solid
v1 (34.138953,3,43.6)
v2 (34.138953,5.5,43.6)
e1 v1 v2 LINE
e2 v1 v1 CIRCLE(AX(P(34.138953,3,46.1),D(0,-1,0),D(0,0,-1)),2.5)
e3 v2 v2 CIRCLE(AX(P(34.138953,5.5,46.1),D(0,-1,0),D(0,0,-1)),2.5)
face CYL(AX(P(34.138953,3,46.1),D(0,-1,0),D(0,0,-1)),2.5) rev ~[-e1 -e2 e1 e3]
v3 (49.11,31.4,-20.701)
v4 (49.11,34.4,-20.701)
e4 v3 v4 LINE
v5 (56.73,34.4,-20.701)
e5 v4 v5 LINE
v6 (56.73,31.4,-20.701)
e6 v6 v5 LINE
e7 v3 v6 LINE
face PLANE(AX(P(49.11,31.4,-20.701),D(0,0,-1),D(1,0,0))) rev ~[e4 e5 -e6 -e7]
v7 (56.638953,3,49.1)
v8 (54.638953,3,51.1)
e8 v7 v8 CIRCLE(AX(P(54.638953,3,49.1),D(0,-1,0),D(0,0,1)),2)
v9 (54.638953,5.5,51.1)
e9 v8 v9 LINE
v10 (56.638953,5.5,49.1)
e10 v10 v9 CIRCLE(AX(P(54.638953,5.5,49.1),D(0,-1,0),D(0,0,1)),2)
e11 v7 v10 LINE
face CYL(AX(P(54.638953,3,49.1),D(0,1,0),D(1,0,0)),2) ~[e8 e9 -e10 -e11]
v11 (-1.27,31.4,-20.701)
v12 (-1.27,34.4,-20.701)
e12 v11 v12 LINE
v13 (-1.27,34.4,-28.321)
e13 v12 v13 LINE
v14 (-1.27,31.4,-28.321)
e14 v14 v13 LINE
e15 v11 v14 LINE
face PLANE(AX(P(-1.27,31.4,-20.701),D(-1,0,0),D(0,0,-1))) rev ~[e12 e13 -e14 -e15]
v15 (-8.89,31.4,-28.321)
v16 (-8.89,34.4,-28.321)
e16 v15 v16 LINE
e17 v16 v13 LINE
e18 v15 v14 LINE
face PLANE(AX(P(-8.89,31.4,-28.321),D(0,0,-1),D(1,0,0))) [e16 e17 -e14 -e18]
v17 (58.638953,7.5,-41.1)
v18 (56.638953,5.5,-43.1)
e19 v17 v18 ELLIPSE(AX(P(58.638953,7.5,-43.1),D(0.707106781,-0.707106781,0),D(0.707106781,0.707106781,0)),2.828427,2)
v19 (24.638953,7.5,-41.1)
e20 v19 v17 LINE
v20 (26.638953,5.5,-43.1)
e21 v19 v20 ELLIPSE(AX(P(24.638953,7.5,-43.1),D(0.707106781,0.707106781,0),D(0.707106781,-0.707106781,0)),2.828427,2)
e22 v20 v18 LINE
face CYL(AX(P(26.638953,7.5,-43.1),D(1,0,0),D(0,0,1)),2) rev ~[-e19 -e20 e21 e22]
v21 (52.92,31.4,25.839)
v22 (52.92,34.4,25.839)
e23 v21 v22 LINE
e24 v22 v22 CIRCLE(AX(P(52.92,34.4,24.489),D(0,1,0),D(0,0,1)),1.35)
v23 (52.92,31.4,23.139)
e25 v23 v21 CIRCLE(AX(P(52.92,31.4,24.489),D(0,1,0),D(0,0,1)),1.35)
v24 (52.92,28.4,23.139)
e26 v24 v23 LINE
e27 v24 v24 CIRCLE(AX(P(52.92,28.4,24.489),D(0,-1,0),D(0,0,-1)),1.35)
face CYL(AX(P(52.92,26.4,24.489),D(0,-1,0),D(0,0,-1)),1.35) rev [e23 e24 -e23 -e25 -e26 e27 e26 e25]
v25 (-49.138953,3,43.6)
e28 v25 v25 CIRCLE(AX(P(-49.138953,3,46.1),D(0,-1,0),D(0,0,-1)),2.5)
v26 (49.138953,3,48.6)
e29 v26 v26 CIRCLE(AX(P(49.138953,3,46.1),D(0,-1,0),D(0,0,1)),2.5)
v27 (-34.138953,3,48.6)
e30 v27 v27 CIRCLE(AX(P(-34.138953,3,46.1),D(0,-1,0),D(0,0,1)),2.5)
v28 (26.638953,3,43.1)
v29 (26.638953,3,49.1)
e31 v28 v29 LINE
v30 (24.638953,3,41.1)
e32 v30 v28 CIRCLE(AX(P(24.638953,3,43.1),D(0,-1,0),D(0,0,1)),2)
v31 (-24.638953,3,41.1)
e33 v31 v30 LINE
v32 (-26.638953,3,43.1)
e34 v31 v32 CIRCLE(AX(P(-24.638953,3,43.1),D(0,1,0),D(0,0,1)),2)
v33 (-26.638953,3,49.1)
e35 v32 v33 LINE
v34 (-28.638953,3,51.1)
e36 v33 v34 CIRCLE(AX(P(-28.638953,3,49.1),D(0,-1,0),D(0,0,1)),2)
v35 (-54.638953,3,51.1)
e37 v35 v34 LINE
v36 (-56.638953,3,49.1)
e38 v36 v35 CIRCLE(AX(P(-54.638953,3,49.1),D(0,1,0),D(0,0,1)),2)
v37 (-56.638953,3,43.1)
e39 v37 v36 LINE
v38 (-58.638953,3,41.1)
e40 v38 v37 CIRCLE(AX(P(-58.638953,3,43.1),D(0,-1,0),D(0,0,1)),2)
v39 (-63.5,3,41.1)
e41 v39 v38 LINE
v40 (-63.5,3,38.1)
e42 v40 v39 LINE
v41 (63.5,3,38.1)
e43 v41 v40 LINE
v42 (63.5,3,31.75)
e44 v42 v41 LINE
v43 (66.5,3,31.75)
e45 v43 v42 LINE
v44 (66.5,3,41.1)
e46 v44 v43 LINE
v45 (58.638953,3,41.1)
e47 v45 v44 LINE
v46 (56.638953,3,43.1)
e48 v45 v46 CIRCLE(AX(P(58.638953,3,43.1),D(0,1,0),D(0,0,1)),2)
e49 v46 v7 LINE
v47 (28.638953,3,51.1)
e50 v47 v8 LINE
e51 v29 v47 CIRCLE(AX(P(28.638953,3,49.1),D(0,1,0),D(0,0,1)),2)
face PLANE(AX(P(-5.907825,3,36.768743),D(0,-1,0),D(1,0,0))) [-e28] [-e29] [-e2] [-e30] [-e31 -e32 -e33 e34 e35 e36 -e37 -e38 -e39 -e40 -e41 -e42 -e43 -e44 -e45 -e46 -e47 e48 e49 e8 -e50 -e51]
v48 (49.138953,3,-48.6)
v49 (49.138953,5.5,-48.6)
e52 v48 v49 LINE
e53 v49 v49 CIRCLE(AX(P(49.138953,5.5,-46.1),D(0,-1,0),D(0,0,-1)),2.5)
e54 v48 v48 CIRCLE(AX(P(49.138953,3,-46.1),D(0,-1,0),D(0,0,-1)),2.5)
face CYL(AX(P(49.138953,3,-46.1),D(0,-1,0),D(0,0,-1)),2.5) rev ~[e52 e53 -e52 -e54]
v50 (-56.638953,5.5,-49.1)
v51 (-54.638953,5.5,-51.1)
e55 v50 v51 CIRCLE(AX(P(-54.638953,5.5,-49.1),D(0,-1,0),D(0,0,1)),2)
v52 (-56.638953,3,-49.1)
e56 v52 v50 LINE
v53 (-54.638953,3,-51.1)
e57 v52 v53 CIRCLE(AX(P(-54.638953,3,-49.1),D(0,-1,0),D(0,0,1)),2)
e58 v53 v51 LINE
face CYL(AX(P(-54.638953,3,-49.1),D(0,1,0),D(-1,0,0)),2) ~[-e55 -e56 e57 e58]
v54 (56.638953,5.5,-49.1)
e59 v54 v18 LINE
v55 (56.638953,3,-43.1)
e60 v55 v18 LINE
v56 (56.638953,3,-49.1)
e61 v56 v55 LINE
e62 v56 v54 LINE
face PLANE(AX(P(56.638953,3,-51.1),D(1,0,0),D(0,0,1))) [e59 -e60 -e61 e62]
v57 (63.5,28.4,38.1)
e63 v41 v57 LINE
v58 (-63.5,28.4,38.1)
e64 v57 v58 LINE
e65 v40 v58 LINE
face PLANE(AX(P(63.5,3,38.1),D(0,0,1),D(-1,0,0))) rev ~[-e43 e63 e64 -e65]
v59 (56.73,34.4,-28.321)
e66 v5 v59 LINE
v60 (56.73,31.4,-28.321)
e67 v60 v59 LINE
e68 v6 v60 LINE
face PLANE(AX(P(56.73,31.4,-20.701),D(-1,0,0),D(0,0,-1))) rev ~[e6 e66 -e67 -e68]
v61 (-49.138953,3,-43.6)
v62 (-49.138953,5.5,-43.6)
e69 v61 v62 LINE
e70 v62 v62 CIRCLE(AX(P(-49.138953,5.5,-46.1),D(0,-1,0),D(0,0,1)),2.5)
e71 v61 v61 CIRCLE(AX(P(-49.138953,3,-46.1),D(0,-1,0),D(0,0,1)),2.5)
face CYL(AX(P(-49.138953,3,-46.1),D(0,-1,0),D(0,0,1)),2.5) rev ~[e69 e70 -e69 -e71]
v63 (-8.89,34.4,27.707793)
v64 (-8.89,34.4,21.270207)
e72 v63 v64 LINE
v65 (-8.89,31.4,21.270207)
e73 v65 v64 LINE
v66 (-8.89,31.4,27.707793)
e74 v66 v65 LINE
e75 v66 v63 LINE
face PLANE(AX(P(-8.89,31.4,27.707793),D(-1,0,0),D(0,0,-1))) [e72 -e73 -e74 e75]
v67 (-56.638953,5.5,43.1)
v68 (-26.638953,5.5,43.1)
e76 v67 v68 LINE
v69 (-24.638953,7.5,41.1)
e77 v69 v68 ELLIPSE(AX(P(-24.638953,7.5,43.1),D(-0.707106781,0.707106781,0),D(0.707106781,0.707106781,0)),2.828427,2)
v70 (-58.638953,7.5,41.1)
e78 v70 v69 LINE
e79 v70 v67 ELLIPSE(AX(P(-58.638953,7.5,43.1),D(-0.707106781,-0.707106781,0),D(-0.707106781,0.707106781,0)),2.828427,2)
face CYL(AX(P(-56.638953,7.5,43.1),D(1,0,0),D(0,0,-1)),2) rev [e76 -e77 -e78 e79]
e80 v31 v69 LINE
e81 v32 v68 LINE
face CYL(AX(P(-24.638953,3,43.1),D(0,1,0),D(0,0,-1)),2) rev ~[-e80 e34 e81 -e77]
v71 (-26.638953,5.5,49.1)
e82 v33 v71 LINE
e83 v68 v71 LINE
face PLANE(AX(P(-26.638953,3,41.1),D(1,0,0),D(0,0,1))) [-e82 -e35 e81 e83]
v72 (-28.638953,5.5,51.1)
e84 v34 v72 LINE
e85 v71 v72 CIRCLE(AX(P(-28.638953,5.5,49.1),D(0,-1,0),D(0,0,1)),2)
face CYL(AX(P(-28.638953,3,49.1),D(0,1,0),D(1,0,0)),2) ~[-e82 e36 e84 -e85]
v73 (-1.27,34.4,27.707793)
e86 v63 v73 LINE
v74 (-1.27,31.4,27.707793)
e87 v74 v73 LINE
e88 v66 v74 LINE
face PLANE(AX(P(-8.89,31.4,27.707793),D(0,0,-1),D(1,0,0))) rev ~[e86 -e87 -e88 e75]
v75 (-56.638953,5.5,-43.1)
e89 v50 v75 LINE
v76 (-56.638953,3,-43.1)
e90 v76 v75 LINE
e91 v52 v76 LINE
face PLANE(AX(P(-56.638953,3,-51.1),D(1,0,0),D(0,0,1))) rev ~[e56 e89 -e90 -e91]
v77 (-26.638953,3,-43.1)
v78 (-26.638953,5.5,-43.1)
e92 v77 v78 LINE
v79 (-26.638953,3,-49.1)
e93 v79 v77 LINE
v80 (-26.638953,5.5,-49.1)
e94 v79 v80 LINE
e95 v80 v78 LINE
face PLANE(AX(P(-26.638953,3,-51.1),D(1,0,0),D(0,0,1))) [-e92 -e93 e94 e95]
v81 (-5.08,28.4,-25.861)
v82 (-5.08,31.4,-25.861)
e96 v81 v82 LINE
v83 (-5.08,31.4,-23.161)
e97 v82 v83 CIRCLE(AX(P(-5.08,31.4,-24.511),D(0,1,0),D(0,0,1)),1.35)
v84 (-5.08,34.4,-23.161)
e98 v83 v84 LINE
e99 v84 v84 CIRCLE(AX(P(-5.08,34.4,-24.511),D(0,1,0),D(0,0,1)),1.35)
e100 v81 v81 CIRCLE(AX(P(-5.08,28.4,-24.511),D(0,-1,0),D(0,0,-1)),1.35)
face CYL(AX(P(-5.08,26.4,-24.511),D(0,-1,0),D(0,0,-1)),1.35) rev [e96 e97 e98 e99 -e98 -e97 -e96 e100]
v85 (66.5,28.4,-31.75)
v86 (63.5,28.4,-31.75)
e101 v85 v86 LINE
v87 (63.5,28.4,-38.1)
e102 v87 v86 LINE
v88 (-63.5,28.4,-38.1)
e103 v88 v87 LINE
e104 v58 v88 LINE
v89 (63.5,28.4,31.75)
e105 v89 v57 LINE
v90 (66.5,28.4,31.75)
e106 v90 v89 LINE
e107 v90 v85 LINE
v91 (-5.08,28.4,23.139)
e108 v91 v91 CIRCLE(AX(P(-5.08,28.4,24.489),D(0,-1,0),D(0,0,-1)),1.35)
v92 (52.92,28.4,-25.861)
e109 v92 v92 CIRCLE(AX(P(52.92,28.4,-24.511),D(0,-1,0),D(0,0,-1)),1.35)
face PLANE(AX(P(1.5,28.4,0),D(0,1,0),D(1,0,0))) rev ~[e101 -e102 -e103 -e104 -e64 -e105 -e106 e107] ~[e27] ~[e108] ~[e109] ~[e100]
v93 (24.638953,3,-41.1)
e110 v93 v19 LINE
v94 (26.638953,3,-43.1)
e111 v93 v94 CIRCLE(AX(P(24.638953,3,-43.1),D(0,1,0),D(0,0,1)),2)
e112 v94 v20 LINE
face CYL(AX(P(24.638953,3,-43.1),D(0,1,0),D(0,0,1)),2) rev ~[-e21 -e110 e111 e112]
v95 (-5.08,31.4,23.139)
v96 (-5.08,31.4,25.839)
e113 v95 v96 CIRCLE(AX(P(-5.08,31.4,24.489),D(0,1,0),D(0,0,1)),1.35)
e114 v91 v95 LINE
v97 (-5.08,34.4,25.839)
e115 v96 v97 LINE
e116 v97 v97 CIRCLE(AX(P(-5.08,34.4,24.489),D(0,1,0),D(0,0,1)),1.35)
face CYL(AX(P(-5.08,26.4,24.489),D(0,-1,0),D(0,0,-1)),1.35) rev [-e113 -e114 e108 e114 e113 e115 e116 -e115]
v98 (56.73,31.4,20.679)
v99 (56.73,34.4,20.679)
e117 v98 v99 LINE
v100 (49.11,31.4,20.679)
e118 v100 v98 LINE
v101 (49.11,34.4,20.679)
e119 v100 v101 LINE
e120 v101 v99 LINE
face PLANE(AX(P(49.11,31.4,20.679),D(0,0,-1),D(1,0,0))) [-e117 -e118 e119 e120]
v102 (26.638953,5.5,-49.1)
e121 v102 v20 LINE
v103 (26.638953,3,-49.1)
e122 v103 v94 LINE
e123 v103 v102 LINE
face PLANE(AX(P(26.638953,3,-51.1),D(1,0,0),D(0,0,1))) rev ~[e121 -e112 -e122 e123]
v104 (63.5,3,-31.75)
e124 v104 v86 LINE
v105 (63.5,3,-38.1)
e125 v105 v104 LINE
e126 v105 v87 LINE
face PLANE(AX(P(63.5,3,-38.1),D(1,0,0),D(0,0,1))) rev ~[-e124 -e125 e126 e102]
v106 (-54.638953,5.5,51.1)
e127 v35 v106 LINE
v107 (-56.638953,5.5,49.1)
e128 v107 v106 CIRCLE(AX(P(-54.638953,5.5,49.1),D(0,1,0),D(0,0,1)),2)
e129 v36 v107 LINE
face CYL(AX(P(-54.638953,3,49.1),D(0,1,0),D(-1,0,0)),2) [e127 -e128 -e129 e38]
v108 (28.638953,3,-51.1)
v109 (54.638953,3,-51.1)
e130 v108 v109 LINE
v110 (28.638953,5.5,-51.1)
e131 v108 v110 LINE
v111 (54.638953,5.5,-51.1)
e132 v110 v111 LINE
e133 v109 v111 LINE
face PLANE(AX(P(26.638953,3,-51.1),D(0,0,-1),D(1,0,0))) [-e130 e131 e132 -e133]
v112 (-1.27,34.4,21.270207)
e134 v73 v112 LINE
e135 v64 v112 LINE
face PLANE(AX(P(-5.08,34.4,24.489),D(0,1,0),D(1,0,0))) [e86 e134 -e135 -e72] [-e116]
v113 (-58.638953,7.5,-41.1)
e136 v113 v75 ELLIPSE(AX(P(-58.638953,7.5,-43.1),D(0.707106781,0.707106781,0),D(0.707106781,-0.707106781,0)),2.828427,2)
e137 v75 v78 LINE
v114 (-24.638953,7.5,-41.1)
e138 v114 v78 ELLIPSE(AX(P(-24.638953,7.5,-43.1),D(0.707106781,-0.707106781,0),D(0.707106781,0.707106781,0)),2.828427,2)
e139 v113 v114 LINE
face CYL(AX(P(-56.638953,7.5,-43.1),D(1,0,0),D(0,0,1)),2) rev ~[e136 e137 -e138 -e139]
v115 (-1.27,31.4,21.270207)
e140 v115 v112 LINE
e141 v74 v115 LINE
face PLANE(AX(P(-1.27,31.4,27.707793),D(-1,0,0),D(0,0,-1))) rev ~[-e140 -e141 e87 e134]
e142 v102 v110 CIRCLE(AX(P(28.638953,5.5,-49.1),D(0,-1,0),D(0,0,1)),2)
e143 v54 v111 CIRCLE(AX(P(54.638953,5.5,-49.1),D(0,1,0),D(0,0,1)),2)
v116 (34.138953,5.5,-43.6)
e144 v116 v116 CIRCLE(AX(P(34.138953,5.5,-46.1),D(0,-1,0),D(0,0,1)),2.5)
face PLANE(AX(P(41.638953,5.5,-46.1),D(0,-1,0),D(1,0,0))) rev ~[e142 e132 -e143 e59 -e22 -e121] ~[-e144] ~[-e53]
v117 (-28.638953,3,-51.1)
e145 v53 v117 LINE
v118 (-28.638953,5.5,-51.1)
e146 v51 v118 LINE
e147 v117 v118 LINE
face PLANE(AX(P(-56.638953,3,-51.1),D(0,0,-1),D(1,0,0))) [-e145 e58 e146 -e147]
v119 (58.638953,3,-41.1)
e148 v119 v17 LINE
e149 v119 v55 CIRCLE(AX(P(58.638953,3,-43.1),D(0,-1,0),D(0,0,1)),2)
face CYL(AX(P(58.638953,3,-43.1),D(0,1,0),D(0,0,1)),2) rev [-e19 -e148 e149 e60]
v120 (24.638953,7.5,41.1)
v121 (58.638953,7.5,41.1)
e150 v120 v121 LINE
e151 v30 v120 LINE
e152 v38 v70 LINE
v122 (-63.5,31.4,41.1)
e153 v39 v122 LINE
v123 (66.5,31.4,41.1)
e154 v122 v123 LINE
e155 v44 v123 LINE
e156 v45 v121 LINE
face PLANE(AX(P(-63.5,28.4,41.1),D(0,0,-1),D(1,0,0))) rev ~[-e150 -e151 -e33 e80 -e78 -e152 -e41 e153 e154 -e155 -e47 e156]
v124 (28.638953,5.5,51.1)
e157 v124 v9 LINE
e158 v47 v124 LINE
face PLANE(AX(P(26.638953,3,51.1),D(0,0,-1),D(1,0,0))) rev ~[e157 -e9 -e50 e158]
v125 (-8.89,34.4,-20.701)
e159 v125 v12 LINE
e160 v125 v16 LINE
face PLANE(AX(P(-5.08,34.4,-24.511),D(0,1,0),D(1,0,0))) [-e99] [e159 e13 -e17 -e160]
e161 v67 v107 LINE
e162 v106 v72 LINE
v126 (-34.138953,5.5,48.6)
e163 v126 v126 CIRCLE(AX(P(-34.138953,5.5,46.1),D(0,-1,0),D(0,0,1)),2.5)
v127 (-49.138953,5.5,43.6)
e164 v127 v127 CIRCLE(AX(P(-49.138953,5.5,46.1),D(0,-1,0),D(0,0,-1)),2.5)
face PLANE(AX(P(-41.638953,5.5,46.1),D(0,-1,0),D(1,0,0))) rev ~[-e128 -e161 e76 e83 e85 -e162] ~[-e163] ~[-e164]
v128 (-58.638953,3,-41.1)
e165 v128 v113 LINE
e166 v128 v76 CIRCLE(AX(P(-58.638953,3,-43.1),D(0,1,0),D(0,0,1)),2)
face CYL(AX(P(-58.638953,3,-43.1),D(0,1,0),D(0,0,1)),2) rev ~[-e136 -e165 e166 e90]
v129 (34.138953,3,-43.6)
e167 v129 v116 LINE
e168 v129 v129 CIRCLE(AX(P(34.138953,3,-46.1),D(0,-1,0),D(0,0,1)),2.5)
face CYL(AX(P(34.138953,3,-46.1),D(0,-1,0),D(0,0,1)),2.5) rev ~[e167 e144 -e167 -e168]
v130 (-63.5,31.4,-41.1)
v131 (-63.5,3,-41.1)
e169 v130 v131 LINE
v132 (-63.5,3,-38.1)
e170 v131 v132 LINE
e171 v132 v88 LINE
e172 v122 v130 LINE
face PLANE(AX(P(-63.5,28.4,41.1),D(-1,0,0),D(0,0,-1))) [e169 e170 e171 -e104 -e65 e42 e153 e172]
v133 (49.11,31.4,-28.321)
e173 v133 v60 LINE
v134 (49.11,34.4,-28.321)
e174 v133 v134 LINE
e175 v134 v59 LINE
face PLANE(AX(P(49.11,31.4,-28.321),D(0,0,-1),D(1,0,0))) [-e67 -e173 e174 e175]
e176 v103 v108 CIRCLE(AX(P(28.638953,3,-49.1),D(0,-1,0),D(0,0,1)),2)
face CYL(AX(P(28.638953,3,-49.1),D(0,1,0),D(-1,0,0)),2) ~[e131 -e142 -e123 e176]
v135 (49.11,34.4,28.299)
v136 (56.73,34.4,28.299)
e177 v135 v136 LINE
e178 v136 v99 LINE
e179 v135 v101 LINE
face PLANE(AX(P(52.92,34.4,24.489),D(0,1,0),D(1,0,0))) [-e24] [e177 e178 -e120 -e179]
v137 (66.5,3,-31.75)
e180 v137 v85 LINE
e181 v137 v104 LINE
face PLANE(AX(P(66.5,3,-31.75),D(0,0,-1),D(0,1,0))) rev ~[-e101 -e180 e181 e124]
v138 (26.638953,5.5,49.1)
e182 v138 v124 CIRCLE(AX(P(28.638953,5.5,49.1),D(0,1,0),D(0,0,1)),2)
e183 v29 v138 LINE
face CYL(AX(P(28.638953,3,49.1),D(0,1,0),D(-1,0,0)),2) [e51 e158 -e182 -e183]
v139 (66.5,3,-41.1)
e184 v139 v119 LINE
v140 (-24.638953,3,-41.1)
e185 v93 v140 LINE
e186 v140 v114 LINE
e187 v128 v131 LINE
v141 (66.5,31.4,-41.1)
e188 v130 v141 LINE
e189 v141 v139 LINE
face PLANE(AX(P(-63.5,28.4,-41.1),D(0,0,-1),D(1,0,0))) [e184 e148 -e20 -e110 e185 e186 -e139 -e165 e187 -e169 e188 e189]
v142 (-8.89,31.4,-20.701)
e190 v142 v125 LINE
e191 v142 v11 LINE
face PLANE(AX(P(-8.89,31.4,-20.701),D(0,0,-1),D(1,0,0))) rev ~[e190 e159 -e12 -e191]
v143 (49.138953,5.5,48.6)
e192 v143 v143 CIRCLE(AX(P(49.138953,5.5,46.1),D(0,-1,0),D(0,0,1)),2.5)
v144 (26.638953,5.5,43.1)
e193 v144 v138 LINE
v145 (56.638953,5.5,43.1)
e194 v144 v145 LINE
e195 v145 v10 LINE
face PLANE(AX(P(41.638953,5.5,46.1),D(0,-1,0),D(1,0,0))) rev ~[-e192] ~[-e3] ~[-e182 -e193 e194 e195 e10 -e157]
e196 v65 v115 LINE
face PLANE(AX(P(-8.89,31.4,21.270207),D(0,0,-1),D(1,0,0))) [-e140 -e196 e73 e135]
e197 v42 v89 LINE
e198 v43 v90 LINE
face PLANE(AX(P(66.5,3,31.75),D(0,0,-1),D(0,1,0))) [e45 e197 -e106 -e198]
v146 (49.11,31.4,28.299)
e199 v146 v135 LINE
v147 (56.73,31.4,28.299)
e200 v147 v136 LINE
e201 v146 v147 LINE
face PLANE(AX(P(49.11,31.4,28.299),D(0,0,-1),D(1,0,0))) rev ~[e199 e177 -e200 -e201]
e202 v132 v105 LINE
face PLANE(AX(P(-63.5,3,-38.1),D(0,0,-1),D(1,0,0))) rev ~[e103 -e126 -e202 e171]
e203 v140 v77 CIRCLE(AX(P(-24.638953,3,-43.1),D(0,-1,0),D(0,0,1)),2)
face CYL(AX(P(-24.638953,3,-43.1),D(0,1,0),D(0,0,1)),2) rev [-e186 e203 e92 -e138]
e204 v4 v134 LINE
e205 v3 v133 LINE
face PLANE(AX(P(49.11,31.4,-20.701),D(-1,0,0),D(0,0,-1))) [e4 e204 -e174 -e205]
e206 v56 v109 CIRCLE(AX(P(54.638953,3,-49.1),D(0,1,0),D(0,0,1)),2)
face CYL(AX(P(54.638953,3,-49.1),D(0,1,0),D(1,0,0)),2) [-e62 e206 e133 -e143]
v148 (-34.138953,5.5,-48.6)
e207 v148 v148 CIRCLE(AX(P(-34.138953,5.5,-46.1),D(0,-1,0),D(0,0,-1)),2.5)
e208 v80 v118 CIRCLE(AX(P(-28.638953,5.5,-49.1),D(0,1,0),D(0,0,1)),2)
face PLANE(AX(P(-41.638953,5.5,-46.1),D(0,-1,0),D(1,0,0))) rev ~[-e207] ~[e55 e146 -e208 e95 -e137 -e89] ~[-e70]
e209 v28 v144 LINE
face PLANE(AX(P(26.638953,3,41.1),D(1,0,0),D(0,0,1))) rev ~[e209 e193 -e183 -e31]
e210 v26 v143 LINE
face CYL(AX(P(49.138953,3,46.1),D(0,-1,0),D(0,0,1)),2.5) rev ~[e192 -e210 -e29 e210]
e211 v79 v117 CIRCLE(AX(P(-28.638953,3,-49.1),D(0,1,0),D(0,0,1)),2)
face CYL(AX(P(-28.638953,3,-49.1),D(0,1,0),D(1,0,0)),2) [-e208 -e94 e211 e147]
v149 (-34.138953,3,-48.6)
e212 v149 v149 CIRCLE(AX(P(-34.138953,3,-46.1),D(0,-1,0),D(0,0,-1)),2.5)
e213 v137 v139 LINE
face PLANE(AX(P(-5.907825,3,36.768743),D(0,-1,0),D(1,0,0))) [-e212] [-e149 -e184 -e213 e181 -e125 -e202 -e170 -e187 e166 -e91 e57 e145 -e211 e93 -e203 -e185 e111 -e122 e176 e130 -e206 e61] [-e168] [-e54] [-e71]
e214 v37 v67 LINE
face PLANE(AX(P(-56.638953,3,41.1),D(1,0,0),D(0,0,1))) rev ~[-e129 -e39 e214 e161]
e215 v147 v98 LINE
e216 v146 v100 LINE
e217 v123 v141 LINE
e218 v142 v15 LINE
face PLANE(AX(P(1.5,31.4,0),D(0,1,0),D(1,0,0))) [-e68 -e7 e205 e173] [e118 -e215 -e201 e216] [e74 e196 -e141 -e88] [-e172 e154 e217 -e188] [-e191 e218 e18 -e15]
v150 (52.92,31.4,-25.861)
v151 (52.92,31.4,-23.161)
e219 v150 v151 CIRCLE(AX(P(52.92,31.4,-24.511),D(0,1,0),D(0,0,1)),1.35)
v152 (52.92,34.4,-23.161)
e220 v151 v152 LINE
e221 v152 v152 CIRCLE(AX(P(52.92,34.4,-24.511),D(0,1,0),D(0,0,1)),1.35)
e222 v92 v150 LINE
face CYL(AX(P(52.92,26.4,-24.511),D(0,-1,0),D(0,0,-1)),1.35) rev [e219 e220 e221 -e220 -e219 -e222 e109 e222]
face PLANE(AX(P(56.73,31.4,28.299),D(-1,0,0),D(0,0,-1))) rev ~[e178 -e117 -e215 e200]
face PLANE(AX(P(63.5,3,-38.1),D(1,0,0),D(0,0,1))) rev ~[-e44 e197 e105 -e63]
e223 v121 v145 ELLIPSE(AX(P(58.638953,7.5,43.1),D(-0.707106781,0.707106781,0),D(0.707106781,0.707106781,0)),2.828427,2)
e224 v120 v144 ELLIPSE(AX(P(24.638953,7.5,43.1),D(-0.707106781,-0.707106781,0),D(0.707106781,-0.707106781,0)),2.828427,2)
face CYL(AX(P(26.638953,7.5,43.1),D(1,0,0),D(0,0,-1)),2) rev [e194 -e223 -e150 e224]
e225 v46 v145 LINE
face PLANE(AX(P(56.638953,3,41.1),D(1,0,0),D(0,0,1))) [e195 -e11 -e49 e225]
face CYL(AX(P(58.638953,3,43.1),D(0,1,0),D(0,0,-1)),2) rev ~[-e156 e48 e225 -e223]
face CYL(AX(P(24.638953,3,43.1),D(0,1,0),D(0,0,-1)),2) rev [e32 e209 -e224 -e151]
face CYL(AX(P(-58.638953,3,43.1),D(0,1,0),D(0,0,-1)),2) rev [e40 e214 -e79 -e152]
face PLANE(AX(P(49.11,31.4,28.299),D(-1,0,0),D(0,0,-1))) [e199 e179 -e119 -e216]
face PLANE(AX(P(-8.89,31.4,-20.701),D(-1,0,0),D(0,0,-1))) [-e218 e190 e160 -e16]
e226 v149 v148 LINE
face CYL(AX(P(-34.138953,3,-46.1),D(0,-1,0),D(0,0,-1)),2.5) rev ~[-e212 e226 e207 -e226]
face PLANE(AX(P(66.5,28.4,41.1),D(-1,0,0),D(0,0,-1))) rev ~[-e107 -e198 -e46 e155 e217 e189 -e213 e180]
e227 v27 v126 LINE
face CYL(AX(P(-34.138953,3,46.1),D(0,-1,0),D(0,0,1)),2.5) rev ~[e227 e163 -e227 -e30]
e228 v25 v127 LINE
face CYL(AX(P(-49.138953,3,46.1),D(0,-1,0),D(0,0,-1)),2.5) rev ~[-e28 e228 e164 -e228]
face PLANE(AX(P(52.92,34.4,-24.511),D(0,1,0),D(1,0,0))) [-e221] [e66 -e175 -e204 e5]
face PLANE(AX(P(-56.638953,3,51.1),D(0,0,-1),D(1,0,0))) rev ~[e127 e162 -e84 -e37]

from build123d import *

# Parameters (mm, degrees)
SKETCH1_R                        = 2.54
SKETCH1_R_2                      = 6.35
MAINBASEPLATE_DEPTH              = 3
PIBATTERYBOXBOSS_EXTRUDE3_DEPTH  = 25.4
SKETCH7_W                        = 130
SKETCH7_H                        = 82.2
PIBATTERYTOPBOSS_EXTRUDE4_DEPTH  = 3
SKETCH8_W                        = 63.5
SKETCH8_H                        = 25.4
PIBATTERYWIRESCUT_EXTRUDE2_DEPTH = 13.16
SKETCH9_W                        = 7.62
SKETCH9_H                        = 7.62
SKETCH9_R                        = 1.35
SKETCH9_H_2                      = 6.437586206
PIBOARDBOSS_EXTRUDE5_DEPTH       = 3
SKETCH32_W                       = 712.395528774
SKETCH32_H                       = 524.196017535
CUT_EXTRUDE11_DEPTH              = 3
SKETCH33_W                       = 30
SKETCH33_H                       = 10
SKETCH33_R                       = 2.5
BOSS_EXTRUDE9_DEPTH              = 2.5
FILLET2_R                        = 2
CUT_EXTRUDE12_START              = -5
SKETCH9_2_R                      = 1.35
CUT_EXTRUDE12_DEPTH              = 5


with BuildPart() as part:
    # Sketch1 → mainbaseplate (new body)
    with BuildSketch(Plane(origin=(0, 0, 0), x_dir=(1, 0, 0), z_dir=(0, 1, 0))):
        with BuildLine():
            Line((-223.52, -111.125), (223.52, -111.125))
            ThreePointArc((223.52, -111.125), (227.112102448, -109.637102448), (228.6, -106.045))
            Line((228.6, -106.045), (228.6, 106.045))
            ThreePointArc((228.6, 106.045), (227.112102448, 109.637102448), (223.52, 111.125))
            Line((223.52, 111.125), (-223.52, 111.125))
            ThreePointArc((-223.52, 111.125), (-227.112102448, 109.637102448), (-228.6, 106.045))
            Line((-228.6, 106.045), (-228.6, -106.045))
            ThreePointArc((-228.6, -106.045), (-227.112102448, -109.637102448), (-223.52, -111.125))
        make_face()
        with Locations(Location((127, 36.5125, 0), (0, 0, 270))):
            Circle(SKETCH1_R, mode=Mode.SUBTRACT)
        with Locations(Location((127, -36.5125, 0), (0, 0, 270))):
            Circle(SKETCH1_R, mode=Mode.SUBTRACT)
        with Locations(Location((-142.24, 36.5125, 0), (0, 0, 270))):
            Circle(SKETCH1_R, mode=Mode.SUBTRACT)
        with Locations(Location((-142.24, -36.5125, 0), (0, 0, 270))):
            Circle(SKETCH1_R, mode=Mode.SUBTRACT)
        with Locations(Location((209.55, 0, 0), (0, 0, 270))):
            Circle(SKETCH1_R_2, mode=Mode.SUBTRACT)
    extrude(amount=MAINBASEPLATE_DEPTH)

    # Sketch6 → PiBatteryBoxBoss-Extrude3 (add)
    with BuildSketch(Plane(origin=(0, 3, 0), x_dir=(1, 0, 0), z_dir=(0, 1, 0))):
        Polygon((-63.5, -41.1), (66.5, -41.1), (66.5, 41.1), (-63.5, 41.1), (-63.5, 38.1), (63.5, 38.1), (63.5, -38.1), (-63.5, -38.1), align=None)
    extrude(amount=PIBATTERYBOXBOSS_EXTRUDE3_DEPTH)

    # Sketch7 → PibatterytopBoss-Extrude4 (add)
    with BuildSketch(Plane(origin=(0, 28.4, 0), x_dir=(1, 0, 0), z_dir=(0, 1, 0))):
        with Locations((1.5, 0)):
            Rectangle(SKETCH7_W, SKETCH7_H)
    extrude(amount=PIBATTERYTOPBOSS_EXTRUDE4_DEPTH)

    # Sketch8 → pibatterywiresCut-Extrude2 (cut)
    with BuildSketch(Plane(origin=(66.5, 0, 0), x_dir=(0, 0, -1), z_dir=(1, 0, 0))):
        with Locations((0, 15.7)):
            Rectangle(SKETCH8_W, SKETCH8_H)
    extrude(amount=-PIBATTERYWIRESCUT_EXTRUDE2_DEPTH, mode=Mode.SUBTRACT)

    # Sketch9 → PiBoardBoss-Extrude5 (add)
    # profile 1 of 4: a face of its own
    with BuildSketch(Plane(origin=(0, 31.4, 0), x_dir=(1, 0, 0), z_dir=(0, 1, 0))):
        with Locations((52.92, 24.511)):
            Rectangle(SKETCH9_W, SKETCH9_H)
        with Locations(Location((52.92, 24.511, 0), (0, 0, 270))):
            Circle(SKETCH9_R, mode=Mode.SUBTRACT)
    # profile 2 of 4: a face of its own
    with BuildSketch(Plane(origin=(0, 31.4, 0), x_dir=(1, 0, 0), z_dir=(0, 1, 0))):
        with Locations((52.92, -24.489)):
            Rectangle(SKETCH9_W, SKETCH9_H)
        with Locations(Location((52.92, -24.489, 0), (0, 0, 270))):
            Circle(SKETCH9_R, mode=Mode.SUBTRACT)
    # profile 3 of 4: a face of its own
    with BuildSketch(Plane(origin=(0, 31.4, 0), x_dir=(1, 0, 0), z_dir=(0, 1, 0))):
        with Locations((-5.08, 24.511)):
            Rectangle(SKETCH9_W, SKETCH9_H)
        with Locations(Location((-5.08, 24.511, 0), (0, 0, 270))):
            Circle(SKETCH9_R, mode=Mode.SUBTRACT)
    # profile 4 of 4: a face of its own
    with BuildSketch(Plane(origin=(0, 31.4, 0), x_dir=(1, 0, 0), z_dir=(0, 1, 0))):
        with Locations((-5.08, -24.489)):
            Rectangle(SKETCH9_W, SKETCH9_H_2)
        with Locations(Location((-5.08, -24.489, 0), (0, 0, 270))):
            Circle(SKETCH9_R, mode=Mode.SUBTRACT)
    extrude(amount=PIBOARDBOSS_EXTRUDE5_DEPTH)

    # Sketch32 → Cut-Extrude11 (cut)
    with BuildSketch(Plane.XZ):
        with Locations((-5.907824988, 36.768742763)):
            Rectangle(SKETCH32_W, SKETCH32_H)
    extrude(amount=-CUT_EXTRUDE11_DEPTH, mode=Mode.SUBTRACT)

    # Sketch33 → Boss-Extrude9 (add)
    # profile 1 of 4: a face of its own
    with BuildSketch(Plane.XZ.offset(-3)):
        with Locations((-41.638953423, 46.1)):
            Rectangle(SKETCH33_W, SKETCH33_H)
        with Locations(Location((-49.138953423, 46.1, 0), (0, 0, 270))):
            Circle(SKETCH33_R, mode=Mode.SUBTRACT)
        with Locations(Location((-34.138953423, 46.1, 0), (0, 0, 90))):
            Circle(SKETCH33_R, mode=Mode.SUBTRACT)
    # profile 2 of 4: a face of its own
    with BuildSketch(Plane.XZ.offset(-3)):
        with Locations((41.638953423, 46.1)):
            Rectangle(SKETCH33_W, SKETCH33_H)
        with Locations(Location((34.138953423, 46.1, 0), (0, 0, 270))):
            Circle(SKETCH33_R, mode=Mode.SUBTRACT)
        with Locations(Location((49.138953423, 46.1, 0), (0, 0, 90))):
            Circle(SKETCH33_R, mode=Mode.SUBTRACT)
    # profile 3 of 4: a face of its own
    with BuildSketch(Plane.XZ.offset(-3)):
        with Locations((41.638953423, -46.1)):
            Rectangle(SKETCH33_W, SKETCH33_H)
        with Locations(Location((49.138953423, -46.1, 0), (0, 0, 270))):
            Circle(SKETCH33_R, mode=Mode.SUBTRACT)
        with Locations(Location((34.138953423, -46.1, 0), (0, 0, 90))):
            Circle(SKETCH33_R, mode=Mode.SUBTRACT)
    # profile 4 of 4: a face of its own
    with BuildSketch(Plane.XZ.offset(-3)):
        with Locations((-41.638953423, -46.1)):
            Rectangle(SKETCH33_W, SKETCH33_H)
        with Locations(Location((-49.138953423, -46.1, 0), (0, 0, 90))):
            Circle(SKETCH33_R, mode=Mode.SUBTRACT)
        with Locations(Location((-34.138953423, -46.1, 0), (0, 0, 270))):
            Circle(SKETCH33_R, mode=Mode.SUBTRACT)
    extrude(amount=-BOSS_EXTRUDE9_DEPTH)

    # Fillet2
    fillet2_edges = [part.edges().sort_by_distance(p)[0] for p in [
        (-56.638953423, 4.25, 41.1),
        (-56.638953423, 4.25, 51.1),
        (-26.638953423, 4.25, 51.1),
        (-41.638953423, 5.5, 41.1),
        (-26.638953423, 4.25, 41.1),
        (56.638953423, 4.25, 51.1),
        (41.638953423, 5.5, 41.1),
        (56.638953423, 4.25, 41.1),
        (26.638953423, 4.25, 41.1),
        (26.638953423, 4.25, 51.1),
        (41.638953423, 5.5, -41.1),
        (26.638953423, 4.25, -41.1),
        (56.638953423, 4.25, -41.1),
        (56.638953423, 4.25, -51.1),
        (26.638953423, 4.25, -51.1),
        (-56.638953423, 4.25, -51.1),
        (-41.638953423, 5.5, -41.1),
        (-56.638953423, 4.25, -41.1),
        (-26.638953423, 4.25, -41.1),
        (-26.638953423, 4.25, -51.1),
    ]]
    fillet(fillet2_edges, radius=FILLET2_R)

    # Sketch9<2> → Cut-Extrude12 (cut)
    with BuildSketch(Plane(origin=(0, 31.4, 0), x_dir=(1, 0, 0), z_dir=(0, 1, 0)).offset(CUT_EXTRUDE12_START)):
        with Locations(Location((52.92, -24.489, 0), (0, 0, 90))):
            Circle(SKETCH9_2_R)
        with Locations(Location((-5.08, -24.489, 0), (0, 0, 90))):
            Circle(SKETCH9_2_R)
        with Locations(Location((-5.08, 24.511, 0), (0, 0, 90))):
            Circle(SKETCH9_2_R)
        with Locations(Location((52.92, 24.511, 0), (0, 0, 90))):
            Circle(SKETCH9_2_R)
    extrude(amount=CUT_EXTRUDE12_DEPTH, mode=Mode.SUBTRACT)


solid = part.part
